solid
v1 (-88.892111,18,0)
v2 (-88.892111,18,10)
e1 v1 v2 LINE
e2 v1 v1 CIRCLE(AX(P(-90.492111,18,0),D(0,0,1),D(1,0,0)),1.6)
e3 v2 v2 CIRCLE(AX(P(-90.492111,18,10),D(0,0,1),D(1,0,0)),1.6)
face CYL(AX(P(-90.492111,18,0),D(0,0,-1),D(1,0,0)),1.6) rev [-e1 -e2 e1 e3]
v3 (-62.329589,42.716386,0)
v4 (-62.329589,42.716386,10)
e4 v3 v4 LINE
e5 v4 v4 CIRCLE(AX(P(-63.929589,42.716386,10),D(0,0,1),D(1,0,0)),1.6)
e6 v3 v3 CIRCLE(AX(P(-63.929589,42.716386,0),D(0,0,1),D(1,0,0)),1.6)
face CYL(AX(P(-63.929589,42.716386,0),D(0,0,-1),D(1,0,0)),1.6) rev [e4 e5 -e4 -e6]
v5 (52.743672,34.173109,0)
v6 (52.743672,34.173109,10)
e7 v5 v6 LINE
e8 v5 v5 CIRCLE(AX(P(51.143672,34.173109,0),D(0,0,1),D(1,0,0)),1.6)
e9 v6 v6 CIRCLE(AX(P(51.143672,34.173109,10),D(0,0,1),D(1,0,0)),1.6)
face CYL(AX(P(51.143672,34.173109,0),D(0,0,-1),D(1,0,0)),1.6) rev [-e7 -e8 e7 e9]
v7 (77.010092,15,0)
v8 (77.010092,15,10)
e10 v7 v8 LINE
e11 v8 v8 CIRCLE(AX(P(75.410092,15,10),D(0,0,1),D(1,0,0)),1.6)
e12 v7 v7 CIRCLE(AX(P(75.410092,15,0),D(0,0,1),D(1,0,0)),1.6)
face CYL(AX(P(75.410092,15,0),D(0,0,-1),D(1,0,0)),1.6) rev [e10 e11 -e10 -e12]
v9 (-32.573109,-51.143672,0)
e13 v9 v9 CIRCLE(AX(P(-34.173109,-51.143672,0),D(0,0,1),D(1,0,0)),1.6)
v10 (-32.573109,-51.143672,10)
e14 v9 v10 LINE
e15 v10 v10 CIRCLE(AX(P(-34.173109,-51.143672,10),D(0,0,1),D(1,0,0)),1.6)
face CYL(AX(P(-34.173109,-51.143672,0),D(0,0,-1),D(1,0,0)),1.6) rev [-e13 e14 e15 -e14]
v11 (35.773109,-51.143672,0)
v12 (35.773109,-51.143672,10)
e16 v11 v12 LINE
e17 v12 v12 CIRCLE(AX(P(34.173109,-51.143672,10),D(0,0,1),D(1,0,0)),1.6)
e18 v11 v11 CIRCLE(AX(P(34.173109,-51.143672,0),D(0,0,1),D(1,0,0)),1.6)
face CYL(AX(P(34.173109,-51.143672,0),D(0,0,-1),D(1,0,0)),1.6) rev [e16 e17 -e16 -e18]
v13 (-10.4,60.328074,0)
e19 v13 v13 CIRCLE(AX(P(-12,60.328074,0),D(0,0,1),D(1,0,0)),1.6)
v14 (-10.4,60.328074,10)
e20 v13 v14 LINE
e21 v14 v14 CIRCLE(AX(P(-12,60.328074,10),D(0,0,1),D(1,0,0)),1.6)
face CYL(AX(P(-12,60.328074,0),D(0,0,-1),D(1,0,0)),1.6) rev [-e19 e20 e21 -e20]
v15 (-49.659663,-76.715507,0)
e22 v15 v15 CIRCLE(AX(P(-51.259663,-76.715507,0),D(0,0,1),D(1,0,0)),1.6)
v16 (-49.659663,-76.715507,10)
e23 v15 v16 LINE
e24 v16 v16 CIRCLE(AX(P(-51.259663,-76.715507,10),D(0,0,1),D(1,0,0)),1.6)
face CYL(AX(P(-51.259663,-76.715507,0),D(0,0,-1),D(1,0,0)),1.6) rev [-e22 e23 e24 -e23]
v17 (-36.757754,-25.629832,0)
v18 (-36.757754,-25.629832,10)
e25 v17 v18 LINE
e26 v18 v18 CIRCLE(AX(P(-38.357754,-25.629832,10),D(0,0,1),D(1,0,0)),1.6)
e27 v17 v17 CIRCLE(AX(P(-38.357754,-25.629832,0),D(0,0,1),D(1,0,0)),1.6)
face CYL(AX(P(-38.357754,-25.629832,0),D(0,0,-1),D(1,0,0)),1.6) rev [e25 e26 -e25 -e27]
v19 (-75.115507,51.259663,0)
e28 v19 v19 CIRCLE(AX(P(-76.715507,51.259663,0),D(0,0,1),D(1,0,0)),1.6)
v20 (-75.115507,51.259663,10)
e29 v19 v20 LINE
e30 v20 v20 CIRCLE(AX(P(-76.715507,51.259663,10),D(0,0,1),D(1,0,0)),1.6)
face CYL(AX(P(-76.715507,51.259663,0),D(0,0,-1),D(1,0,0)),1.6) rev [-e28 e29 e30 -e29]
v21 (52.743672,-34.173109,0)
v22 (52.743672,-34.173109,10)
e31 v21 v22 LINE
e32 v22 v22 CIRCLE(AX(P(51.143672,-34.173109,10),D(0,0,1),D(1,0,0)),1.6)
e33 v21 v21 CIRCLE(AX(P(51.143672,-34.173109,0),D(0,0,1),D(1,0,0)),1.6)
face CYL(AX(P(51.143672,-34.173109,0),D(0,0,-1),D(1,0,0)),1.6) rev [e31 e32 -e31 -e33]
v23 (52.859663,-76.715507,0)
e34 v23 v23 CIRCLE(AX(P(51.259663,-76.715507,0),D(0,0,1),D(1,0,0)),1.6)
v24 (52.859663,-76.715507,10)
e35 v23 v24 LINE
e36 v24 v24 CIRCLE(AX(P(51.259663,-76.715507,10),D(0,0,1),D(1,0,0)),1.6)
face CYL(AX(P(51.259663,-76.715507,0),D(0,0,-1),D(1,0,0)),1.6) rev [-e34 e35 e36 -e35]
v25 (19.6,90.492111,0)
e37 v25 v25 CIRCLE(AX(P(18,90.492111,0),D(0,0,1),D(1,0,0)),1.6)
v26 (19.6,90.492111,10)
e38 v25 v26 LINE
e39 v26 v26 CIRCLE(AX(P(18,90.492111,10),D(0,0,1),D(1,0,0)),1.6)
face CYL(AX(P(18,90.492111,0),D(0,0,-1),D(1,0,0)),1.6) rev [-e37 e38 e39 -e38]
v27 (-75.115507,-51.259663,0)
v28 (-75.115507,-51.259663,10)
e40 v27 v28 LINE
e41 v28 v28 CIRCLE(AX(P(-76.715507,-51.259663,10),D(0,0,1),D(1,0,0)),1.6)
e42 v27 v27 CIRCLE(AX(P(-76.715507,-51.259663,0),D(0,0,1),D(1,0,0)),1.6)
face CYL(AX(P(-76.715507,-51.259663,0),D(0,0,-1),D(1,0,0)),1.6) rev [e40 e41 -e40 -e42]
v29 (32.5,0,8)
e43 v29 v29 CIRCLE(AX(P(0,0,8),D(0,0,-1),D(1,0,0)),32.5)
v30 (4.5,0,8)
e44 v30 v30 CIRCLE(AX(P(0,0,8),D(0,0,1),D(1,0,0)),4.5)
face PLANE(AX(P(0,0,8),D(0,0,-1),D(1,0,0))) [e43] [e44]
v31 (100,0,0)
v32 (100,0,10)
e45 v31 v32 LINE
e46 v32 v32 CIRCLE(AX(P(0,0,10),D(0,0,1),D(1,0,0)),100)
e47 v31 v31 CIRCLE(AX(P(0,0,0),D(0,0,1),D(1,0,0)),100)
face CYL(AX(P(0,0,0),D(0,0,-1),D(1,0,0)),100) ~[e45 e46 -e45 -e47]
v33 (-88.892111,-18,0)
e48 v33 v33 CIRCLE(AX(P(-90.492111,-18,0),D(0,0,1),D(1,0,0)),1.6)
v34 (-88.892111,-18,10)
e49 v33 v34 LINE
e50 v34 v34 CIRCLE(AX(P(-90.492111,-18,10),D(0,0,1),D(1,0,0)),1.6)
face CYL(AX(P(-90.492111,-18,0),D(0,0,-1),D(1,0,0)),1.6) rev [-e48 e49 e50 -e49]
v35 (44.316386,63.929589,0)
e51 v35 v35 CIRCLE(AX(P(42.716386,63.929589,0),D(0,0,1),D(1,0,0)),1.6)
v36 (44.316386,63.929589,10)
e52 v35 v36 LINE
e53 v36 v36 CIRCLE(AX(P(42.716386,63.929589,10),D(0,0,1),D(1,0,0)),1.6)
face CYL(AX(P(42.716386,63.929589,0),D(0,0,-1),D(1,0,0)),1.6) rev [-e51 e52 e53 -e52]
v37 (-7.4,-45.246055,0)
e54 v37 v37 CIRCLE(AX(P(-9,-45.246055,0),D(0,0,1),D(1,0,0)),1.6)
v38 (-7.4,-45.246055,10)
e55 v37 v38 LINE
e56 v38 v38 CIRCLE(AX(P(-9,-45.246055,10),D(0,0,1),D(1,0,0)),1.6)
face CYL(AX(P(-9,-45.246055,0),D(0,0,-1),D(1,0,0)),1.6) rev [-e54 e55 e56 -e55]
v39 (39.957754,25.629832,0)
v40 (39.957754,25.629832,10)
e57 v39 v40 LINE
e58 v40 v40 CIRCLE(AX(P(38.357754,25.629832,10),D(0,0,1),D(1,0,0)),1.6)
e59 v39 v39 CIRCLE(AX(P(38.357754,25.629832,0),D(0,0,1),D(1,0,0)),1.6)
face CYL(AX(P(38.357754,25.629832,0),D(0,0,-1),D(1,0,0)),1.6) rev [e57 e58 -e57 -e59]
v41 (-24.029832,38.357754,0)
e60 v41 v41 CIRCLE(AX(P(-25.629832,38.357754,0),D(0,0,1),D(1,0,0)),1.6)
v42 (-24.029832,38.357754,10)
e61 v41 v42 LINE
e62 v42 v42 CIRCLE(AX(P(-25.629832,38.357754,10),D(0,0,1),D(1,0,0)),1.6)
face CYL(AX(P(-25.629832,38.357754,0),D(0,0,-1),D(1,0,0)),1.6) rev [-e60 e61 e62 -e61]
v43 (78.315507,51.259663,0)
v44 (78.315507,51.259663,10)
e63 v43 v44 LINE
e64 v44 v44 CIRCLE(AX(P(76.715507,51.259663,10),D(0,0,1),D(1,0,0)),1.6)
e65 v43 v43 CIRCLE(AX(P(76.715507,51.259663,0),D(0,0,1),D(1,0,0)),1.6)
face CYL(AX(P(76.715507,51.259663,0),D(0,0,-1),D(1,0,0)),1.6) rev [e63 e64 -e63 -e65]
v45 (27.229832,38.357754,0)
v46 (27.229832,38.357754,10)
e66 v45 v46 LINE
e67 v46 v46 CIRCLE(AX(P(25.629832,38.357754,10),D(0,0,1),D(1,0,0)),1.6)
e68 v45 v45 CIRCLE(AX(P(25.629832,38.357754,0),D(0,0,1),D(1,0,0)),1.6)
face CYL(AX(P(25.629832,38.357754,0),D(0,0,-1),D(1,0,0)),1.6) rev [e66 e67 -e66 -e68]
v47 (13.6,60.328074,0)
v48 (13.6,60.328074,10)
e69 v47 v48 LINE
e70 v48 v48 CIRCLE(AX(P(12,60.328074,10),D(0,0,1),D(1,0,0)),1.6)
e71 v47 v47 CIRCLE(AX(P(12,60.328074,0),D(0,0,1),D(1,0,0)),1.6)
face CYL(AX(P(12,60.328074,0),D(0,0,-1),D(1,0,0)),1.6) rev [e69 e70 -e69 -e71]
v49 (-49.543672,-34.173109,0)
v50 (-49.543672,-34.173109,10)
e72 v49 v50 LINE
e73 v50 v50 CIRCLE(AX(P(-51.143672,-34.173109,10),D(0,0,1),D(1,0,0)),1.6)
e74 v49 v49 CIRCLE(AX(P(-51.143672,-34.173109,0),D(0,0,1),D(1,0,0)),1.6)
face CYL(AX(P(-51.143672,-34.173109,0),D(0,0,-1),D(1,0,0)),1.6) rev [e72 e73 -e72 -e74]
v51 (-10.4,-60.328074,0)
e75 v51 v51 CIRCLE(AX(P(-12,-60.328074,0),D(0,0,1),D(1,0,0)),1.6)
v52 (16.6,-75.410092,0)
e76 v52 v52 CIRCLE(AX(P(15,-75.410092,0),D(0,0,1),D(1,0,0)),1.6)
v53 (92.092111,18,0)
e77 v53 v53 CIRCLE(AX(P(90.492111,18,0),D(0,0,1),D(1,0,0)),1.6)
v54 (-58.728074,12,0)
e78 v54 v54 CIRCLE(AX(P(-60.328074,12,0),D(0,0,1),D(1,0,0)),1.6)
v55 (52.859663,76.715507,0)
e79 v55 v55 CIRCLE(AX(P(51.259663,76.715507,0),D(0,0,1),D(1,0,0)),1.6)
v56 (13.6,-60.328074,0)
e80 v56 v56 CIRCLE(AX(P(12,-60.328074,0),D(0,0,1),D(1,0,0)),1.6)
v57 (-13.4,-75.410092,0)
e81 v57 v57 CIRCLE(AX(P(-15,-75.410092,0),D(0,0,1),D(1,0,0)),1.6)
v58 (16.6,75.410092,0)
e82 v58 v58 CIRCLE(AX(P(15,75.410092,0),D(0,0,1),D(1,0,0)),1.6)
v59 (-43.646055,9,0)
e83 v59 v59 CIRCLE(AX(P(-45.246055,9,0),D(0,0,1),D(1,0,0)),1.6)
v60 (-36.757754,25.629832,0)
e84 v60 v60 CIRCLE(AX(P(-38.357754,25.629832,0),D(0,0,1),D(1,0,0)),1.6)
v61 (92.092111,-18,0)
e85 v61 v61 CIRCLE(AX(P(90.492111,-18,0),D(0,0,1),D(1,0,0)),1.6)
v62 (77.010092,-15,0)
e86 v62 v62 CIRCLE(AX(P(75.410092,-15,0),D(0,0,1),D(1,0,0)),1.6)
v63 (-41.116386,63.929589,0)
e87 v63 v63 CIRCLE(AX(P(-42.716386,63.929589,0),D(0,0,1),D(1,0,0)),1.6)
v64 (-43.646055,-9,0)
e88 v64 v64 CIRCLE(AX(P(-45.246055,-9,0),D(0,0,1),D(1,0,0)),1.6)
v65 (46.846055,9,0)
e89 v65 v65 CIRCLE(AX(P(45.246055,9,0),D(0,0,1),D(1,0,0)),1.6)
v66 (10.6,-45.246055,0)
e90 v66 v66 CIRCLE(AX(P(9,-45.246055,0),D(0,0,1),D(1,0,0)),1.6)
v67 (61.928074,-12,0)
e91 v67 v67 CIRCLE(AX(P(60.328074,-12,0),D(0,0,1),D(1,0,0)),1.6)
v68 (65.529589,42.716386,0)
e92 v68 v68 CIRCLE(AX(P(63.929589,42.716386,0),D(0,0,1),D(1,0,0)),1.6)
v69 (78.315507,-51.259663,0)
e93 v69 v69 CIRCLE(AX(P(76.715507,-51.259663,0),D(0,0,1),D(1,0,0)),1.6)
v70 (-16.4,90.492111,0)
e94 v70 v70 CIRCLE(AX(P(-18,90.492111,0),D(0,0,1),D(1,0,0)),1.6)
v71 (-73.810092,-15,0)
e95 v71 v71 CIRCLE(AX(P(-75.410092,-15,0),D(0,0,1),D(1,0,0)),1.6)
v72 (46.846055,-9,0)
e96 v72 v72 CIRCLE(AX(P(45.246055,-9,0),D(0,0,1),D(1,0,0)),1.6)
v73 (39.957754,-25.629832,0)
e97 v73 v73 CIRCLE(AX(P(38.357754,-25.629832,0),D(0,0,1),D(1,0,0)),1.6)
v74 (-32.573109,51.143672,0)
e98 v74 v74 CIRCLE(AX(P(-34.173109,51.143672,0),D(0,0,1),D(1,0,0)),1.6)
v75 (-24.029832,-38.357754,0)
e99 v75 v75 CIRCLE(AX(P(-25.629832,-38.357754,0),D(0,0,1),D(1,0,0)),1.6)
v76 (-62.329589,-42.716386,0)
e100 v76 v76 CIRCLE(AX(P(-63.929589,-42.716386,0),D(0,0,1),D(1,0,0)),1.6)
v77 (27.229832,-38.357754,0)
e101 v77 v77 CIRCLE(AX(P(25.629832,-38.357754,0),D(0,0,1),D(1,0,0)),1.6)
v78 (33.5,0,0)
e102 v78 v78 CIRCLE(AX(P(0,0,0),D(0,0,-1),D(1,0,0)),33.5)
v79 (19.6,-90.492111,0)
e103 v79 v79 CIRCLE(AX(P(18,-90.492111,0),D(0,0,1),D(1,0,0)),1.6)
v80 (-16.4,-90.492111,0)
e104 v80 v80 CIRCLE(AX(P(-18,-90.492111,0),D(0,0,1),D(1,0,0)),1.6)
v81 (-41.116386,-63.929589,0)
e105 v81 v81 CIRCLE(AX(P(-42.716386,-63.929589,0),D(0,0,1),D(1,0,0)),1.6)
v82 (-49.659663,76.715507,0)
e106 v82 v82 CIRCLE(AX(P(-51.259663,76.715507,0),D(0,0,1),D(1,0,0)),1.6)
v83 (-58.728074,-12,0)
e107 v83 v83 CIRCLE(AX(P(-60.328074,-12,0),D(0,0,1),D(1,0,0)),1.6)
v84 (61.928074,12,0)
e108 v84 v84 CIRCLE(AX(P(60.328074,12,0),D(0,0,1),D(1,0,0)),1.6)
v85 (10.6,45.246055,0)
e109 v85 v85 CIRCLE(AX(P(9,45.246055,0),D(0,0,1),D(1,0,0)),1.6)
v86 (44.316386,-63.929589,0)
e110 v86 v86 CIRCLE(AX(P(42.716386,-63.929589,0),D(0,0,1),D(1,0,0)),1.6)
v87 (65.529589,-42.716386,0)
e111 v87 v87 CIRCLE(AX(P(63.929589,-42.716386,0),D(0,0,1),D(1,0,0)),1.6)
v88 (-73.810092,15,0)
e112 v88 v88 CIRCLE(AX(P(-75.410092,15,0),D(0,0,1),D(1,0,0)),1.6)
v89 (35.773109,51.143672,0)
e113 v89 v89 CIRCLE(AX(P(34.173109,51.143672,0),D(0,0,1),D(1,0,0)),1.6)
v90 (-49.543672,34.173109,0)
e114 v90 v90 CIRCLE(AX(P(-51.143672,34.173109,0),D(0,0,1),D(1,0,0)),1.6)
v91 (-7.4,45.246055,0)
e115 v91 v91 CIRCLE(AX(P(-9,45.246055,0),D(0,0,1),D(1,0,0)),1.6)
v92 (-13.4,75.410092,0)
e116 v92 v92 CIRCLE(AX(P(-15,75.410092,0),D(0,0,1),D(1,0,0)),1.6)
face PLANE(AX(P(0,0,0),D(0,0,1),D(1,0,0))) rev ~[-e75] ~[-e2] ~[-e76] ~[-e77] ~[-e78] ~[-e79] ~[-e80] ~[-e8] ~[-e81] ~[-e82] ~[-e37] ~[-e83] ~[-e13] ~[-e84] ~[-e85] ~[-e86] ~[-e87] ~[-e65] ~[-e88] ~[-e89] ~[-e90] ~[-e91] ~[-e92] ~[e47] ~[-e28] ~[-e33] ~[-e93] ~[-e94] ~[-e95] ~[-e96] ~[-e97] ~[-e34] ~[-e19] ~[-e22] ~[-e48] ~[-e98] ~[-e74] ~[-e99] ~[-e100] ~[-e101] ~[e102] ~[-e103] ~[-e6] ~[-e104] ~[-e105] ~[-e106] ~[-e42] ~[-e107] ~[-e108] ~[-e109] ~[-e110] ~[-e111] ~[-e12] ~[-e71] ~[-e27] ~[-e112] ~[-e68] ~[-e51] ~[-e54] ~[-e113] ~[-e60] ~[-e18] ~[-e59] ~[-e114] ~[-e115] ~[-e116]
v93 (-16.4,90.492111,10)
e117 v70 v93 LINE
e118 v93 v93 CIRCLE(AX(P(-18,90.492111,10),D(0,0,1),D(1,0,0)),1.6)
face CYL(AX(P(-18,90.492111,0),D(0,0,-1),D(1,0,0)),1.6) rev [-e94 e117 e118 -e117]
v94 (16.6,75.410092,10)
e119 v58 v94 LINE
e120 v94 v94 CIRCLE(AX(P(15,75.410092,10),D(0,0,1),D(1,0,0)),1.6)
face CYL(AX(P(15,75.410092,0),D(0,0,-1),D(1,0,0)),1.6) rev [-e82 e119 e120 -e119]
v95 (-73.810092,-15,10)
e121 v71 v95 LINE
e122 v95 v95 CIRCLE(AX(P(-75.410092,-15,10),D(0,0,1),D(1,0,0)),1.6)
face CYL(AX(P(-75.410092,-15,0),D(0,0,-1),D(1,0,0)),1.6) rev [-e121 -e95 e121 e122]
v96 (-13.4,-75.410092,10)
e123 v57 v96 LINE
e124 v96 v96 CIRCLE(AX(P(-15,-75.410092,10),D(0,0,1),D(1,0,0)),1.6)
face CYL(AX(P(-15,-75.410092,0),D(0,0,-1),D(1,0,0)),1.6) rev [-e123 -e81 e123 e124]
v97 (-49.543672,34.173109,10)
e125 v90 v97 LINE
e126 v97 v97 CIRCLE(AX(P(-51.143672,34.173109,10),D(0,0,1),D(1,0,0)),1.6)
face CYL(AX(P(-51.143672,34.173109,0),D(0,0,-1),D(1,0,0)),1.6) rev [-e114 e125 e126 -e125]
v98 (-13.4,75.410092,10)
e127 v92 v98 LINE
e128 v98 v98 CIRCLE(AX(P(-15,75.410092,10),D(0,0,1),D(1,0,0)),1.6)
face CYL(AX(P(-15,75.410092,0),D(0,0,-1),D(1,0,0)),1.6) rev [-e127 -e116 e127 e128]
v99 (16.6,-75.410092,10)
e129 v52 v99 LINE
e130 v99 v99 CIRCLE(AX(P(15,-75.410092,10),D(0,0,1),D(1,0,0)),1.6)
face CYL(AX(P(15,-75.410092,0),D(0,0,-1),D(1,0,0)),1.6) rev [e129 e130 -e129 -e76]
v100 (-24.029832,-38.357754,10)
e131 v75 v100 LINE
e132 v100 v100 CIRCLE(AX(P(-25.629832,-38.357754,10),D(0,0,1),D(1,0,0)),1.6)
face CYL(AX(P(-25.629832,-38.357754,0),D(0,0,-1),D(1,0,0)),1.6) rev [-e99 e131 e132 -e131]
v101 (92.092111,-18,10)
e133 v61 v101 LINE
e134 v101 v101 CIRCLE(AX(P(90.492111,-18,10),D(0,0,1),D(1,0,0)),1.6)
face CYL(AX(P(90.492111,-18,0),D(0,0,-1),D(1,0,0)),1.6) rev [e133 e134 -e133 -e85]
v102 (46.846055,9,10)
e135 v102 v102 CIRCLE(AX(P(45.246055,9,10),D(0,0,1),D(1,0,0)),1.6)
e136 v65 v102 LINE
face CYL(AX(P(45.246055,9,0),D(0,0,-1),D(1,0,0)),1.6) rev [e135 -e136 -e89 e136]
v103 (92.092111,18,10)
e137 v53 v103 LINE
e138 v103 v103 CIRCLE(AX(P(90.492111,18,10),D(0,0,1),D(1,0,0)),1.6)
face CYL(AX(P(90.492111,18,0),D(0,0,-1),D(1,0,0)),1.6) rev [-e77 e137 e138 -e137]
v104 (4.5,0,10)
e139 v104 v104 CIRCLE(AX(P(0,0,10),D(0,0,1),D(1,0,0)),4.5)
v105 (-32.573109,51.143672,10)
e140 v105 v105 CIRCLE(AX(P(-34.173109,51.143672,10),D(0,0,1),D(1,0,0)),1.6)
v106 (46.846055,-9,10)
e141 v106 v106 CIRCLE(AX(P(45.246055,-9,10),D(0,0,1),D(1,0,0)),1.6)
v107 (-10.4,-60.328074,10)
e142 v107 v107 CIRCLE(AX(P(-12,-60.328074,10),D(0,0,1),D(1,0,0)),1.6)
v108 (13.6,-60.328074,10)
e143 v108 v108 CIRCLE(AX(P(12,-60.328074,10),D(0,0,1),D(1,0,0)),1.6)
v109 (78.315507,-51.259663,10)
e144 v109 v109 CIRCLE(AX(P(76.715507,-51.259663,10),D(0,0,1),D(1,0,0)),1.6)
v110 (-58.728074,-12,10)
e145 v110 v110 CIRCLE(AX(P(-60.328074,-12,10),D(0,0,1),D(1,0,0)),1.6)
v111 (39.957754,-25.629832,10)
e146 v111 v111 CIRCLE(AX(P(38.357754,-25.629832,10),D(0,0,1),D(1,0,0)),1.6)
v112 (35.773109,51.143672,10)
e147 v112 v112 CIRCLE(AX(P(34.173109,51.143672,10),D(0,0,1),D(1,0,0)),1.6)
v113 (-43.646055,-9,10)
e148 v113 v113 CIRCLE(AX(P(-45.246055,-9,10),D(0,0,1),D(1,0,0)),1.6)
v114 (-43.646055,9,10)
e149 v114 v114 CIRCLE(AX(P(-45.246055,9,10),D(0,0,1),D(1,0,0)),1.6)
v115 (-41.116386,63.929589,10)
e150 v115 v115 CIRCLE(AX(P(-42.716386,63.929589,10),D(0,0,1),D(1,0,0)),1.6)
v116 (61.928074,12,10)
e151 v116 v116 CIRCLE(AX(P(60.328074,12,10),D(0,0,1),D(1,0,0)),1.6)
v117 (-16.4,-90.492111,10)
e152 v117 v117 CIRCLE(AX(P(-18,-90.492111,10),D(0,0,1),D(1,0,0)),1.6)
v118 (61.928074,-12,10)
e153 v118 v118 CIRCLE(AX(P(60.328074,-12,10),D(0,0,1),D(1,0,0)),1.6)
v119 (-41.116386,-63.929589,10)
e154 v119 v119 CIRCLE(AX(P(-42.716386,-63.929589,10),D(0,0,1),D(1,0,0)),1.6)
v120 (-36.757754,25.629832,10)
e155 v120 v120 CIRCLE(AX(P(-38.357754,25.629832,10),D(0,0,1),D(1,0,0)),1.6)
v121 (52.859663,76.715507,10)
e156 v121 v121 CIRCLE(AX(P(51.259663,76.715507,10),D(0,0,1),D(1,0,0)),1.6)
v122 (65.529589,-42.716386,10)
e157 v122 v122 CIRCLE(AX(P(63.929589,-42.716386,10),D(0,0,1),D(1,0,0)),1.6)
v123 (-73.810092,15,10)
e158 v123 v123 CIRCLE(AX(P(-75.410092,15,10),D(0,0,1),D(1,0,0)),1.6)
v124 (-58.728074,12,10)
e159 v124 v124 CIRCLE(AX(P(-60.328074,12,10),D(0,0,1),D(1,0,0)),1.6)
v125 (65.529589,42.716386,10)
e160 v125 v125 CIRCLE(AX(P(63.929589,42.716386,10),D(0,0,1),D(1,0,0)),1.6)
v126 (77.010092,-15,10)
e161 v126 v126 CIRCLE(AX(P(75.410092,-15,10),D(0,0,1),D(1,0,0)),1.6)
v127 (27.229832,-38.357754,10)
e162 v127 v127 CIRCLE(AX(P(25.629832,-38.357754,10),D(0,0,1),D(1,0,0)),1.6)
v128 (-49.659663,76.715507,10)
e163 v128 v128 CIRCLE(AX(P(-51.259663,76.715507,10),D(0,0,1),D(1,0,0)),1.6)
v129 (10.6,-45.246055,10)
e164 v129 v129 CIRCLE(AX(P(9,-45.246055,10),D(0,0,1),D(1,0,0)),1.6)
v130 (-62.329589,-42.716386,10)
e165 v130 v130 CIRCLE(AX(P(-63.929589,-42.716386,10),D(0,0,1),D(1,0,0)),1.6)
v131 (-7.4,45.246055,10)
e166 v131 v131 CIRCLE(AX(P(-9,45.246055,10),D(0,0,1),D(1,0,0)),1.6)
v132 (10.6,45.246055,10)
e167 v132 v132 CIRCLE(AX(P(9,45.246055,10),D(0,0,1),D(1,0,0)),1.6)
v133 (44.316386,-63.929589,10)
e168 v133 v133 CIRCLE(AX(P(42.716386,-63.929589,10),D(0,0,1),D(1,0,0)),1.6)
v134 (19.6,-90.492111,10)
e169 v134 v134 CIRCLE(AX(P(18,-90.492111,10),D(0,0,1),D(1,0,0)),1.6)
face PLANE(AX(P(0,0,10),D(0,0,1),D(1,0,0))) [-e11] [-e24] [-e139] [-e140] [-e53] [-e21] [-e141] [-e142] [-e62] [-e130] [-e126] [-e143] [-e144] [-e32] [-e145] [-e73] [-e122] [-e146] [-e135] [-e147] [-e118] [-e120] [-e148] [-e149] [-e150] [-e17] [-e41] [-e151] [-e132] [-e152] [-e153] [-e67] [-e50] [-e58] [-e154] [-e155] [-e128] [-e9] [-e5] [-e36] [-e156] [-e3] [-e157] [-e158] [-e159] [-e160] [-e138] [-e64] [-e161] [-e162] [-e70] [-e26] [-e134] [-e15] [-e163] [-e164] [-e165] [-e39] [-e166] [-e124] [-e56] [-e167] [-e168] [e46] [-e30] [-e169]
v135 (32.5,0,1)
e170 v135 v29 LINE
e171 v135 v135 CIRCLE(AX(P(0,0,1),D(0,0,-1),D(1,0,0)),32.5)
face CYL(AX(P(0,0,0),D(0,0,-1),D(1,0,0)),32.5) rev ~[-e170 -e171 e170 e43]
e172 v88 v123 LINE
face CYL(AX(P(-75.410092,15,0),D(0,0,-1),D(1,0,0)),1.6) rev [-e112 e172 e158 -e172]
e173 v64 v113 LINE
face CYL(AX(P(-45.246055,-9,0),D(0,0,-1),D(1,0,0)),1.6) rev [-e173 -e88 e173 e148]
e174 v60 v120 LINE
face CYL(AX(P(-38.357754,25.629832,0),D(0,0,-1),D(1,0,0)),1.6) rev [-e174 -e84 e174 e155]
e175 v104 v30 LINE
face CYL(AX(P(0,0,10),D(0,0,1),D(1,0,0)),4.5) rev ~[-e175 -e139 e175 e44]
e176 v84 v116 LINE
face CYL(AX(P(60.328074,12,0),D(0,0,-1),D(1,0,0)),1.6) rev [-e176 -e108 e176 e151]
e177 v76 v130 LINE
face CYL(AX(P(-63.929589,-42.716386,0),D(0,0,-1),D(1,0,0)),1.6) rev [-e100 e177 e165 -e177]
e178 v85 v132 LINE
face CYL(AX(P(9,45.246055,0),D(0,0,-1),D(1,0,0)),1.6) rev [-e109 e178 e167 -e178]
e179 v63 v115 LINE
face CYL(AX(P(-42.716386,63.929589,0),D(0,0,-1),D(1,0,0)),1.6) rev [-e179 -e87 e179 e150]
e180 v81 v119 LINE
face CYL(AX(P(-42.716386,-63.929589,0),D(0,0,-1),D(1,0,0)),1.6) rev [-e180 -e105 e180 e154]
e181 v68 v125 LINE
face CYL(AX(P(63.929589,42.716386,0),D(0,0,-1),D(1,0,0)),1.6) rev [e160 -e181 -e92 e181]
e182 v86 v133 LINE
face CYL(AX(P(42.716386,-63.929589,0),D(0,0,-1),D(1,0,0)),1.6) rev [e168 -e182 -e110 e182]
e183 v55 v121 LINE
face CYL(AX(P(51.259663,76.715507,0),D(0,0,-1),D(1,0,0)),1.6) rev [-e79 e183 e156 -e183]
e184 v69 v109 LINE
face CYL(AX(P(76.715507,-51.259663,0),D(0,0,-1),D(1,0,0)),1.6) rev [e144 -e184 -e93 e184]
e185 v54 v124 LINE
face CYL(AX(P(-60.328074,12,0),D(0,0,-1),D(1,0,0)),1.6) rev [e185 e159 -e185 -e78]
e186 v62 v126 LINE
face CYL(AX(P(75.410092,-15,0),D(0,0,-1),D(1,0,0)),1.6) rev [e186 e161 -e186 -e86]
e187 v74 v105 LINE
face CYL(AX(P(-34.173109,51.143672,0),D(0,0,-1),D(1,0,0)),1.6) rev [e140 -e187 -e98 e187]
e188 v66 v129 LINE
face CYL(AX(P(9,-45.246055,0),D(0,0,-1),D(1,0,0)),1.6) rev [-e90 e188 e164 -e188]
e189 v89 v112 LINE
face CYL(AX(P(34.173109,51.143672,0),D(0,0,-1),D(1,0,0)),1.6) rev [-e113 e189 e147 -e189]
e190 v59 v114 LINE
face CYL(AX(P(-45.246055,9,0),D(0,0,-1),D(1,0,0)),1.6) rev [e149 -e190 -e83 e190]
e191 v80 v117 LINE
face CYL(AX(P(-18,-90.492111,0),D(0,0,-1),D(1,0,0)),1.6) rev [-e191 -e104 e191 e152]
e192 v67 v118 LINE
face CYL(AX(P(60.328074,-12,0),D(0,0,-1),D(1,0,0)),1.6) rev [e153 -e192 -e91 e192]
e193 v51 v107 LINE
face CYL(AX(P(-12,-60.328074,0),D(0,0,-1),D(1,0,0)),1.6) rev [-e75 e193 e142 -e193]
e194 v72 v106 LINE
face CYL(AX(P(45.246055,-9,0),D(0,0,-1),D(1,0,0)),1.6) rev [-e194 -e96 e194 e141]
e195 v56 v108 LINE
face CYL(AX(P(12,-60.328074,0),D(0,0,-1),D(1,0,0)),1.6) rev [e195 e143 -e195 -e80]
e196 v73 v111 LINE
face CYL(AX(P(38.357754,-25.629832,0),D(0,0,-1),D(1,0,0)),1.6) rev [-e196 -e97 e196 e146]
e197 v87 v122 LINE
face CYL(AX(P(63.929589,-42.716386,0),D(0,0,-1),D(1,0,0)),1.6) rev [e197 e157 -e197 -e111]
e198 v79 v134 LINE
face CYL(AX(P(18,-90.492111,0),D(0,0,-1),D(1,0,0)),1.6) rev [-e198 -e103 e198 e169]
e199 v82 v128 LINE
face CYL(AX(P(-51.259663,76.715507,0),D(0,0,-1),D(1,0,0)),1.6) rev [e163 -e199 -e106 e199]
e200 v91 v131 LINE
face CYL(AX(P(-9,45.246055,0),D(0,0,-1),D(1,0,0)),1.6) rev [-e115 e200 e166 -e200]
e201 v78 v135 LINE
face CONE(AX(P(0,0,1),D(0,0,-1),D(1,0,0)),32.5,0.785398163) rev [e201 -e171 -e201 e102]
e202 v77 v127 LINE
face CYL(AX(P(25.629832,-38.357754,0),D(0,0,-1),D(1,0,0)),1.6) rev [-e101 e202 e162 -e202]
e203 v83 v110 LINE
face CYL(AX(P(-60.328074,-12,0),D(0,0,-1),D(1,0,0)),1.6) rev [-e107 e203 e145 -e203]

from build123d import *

# Parameters (mm, degrees)
SKETCH085_R     = 100
SKETCH085_R_2   = 1.6
PAD029_DEPTH    = 10
SKETCH086_R     = 32.5
POCKET051_DEPTH = 8
SKETCH087_R     = 4.5
POCKET052_DEPTH = 5
CHAMFER009_SIZE = 1


with BuildPart() as part:
    # Sketch085 → Pad029 (new body)
    with BuildSketch(Plane.XY):
        Circle(SKETCH085_R)
        with Locations((-18, 90.4921108583)):
            Circle(SKETCH085_R_2, mode=Mode.SUBTRACT)
        with Locations((18, 90.4921108583)):
            Circle(SKETCH085_R_2, mode=Mode.SUBTRACT)
        with Locations((51.2596631704, 76.7155072931)):
            Circle(SKETCH085_R_2, mode=Mode.SUBTRACT)
        with Locations((76.7155072931, 51.2596631704)):
            Circle(SKETCH085_R_2, mode=Mode.SUBTRACT)
        with Locations((90.4921108583, 18)):
            Circle(SKETCH085_R_2, mode=Mode.SUBTRACT)
        with Locations((90.4921108583, -18)):
            Circle(SKETCH085_R_2, mode=Mode.SUBTRACT)
        with Locations((76.7155072931, -51.2596631704)):
            Circle(SKETCH085_R_2, mode=Mode.SUBTRACT)
        with Locations((51.2596631704, -76.7155072931)):
            Circle(SKETCH085_R_2, mode=Mode.SUBTRACT)
        with Locations((18, -90.4921108583)):
            Circle(SKETCH085_R_2, mode=Mode.SUBTRACT)
        with Locations((-18, -90.4921108583)):
            Circle(SKETCH085_R_2, mode=Mode.SUBTRACT)
        with Locations((-51.2596631704, -76.7155072931)):
            Circle(SKETCH085_R_2, mode=Mode.SUBTRACT)
        with Locations((-76.7155072931, -51.2596631704)):
            Circle(SKETCH085_R_2, mode=Mode.SUBTRACT)
        with Locations((-90.4921108583, -18)):
            Circle(SKETCH085_R_2, mode=Mode.SUBTRACT)
        with Locations((-90.4921108583, 18)):
            Circle(SKETCH085_R_2, mode=Mode.SUBTRACT)
        with Locations((-76.7155072931, 51.2596631704)):
            Circle(SKETCH085_R_2, mode=Mode.SUBTRACT)
        with Locations((-51.2596631704, 76.7155072931)):
            Circle(SKETCH085_R_2, mode=Mode.SUBTRACT)
        with Locations((-75.4100923819, 15)):
            Circle(SKETCH085_R_2, mode=Mode.SUBTRACT)
        with Locations((-75.4100923819, -15)):
            Circle(SKETCH085_R_2, mode=Mode.SUBTRACT)
        with Locations((-63.9295894109, -42.7163859753)):
            Circle(SKETCH085_R_2, mode=Mode.SUBTRACT)
        with Locations((-42.7163859753, -63.9295894109)):
            Circle(SKETCH085_R_2, mode=Mode.SUBTRACT)
        with Locations((-15, -75.4100923819)):
            Circle(SKETCH085_R_2, mode=Mode.SUBTRACT)
        with Locations((15, -75.4100923819)):
            Circle(SKETCH085_R_2, mode=Mode.SUBTRACT)
        with Locations((42.7163859753, -63.9295894109)):
            Circle(SKETCH085_R_2, mode=Mode.SUBTRACT)
        with Locations((63.9295894109, -42.7163859753)):
            Circle(SKETCH085_R_2, mode=Mode.SUBTRACT)
        with Locations((75.4100923819, -15)):
            Circle(SKETCH085_R_2, mode=Mode.SUBTRACT)
        with Locations((75.4100923819, 15)):
            Circle(SKETCH085_R_2, mode=Mode.SUBTRACT)
        with Locations((63.9295894109, 42.7163859753)):
            Circle(SKETCH085_R_2, mode=Mode.SUBTRACT)
        with Locations((42.7163859753, 63.9295894109)):
            Circle(SKETCH085_R_2, mode=Mode.SUBTRACT)
        with Locations((15, 75.4100923819)):
            Circle(SKETCH085_R_2, mode=Mode.SUBTRACT)
        with Locations((-15, 75.4100923819)):
            Circle(SKETCH085_R_2, mode=Mode.SUBTRACT)
        with Locations((-42.7163859753, 63.9295894109)):
            Circle(SKETCH085_R_2, mode=Mode.SUBTRACT)
        with Locations((-63.9295894109, 42.7163859753)):
            Circle(SKETCH085_R_2, mode=Mode.SUBTRACT)
        with Locations((-34.1731089215, 51.1436717401)):
            Circle(SKETCH085_R_2, mode=Mode.SUBTRACT)
        with Locations((-12.0000000496, 60.3280741548)):
            Circle(SKETCH085_R_2, mode=Mode.SUBTRACT)
        with Locations((12.0000000496, 60.3280741548)):
            Circle(SKETCH085_R_2, mode=Mode.SUBTRACT)
        with Locations((34.1731089215, 51.1436717401)):
            Circle(SKETCH085_R_2, mode=Mode.SUBTRACT)
        with Locations((51.1436717401, 34.1731089215)):
            Circle(SKETCH085_R_2, mode=Mode.SUBTRACT)
        with Locations((60.3280741548, 12.0000000496)):
            Circle(SKETCH085_R_2, mode=Mode.SUBTRACT)
        with Locations((60.3280741548, -12.0000000496)):
            Circle(SKETCH085_R_2, mode=Mode.SUBTRACT)
        with Locations((51.1436717401, -34.1731089215)):
            Circle(SKETCH085_R_2, mode=Mode.SUBTRACT)
        with Locations((34.1731089215, -51.1436717401)):
            Circle(SKETCH085_R_2, mode=Mode.SUBTRACT)
        with Locations((12.0000000496, -60.3280741548)):
            Circle(SKETCH085_R_2, mode=Mode.SUBTRACT)
        with Locations((-12.0000000496, -60.3280741548)):
            Circle(SKETCH085_R_2, mode=Mode.SUBTRACT)
        with Locations((-34.1731089215, -51.1436717401)):
            Circle(SKETCH085_R_2, mode=Mode.SUBTRACT)
        with Locations((-51.1436717401, -34.1731089215)):
            Circle(SKETCH085_R_2, mode=Mode.SUBTRACT)
        with Locations((-60.3280741548, -12.0000000496)):
            Circle(SKETCH085_R_2, mode=Mode.SUBTRACT)
        with Locations((-60.3280741548, 12.0000000496)):
            Circle(SKETCH085_R_2, mode=Mode.SUBTRACT)
        with Locations((-51.1436717401, 34.1731089215)):
            Circle(SKETCH085_R_2, mode=Mode.SUBTRACT)
        with Locations((-25.6298315852, 38.3577536466)):
            Circle(SKETCH085_R_2, mode=Mode.SUBTRACT)
        with Locations((-9, 45.2460554291)):
            Circle(SKETCH085_R_2, mode=Mode.SUBTRACT)
        with Locations((9, 45.2460554291)):
            Circle(SKETCH085_R_2, mode=Mode.SUBTRACT)
        with Locations((25.6298315852, 38.3577536466)):
            Circle(SKETCH085_R_2, mode=Mode.SUBTRACT)
        with Locations((38.3577536466, 25.6298315852)):
            Circle(SKETCH085_R_2, mode=Mode.SUBTRACT)
        with Locations((45.2460554291, 9)):
            Circle(SKETCH085_R_2, mode=Mode.SUBTRACT)
        with Locations((45.2460554291, -9)):
            Circle(SKETCH085_R_2, mode=Mode.SUBTRACT)
        with Locations((38.3577536466, -25.6298315852)):
            Circle(SKETCH085_R_2, mode=Mode.SUBTRACT)
        with Locations((25.6298315852, -38.3577536466)):
            Circle(SKETCH085_R_2, mode=Mode.SUBTRACT)
        with Locations((9, -45.2460554291)):
            Circle(SKETCH085_R_2, mode=Mode.SUBTRACT)
        with Locations((-9, -45.2460554291)):
            Circle(SKETCH085_R_2, mode=Mode.SUBTRACT)
        with Locations((-25.6298315852, -38.3577536466)):
            Circle(SKETCH085_R_2, mode=Mode.SUBTRACT)
        with Locations((-38.3577536466, -25.6298315852)):
            Circle(SKETCH085_R_2, mode=Mode.SUBTRACT)
        with Locations((-45.2460554291, -9)):
            Circle(SKETCH085_R_2, mode=Mode.SUBTRACT)
        with Locations((-45.2460554291, 9)):
            Circle(SKETCH085_R_2, mode=Mode.SUBTRACT)
        with Locations((-38.3577536466, 25.6298315852)):
            Circle(SKETCH085_R_2, mode=Mode.SUBTRACT)
    extrude(amount=PAD029_DEPTH)

    # Sketch086 (on Face66 of Pad029) → Pocket051 (cut)
    with BuildSketch(Plane(origin=(0, 0, 0), x_dir=(1, 0, 0), z_dir=(0, 0, -1))):
        Circle(SKETCH086_R)
    extrude(amount=-POCKET051_DEPTH, mode=Mode.SUBTRACT)

    # Sketch087 (on Face3 of Pocket051) → Pocket052 (cut)
    with BuildSketch(Plane.XY.offset(10)):
        Circle(SKETCH087_R)
    extrude(amount=-POCKET052_DEPTH, mode=Mode.SUBTRACT)

    # Chamfer009
    chamfer009_edges = [part.edges().sort_by_distance(p)[0] for p in [
        (-32.5, 0, 0),
    ]]
    chamfer(chamfer009_edges, length=CHAMFER009_SIZE)


solid = part.part
